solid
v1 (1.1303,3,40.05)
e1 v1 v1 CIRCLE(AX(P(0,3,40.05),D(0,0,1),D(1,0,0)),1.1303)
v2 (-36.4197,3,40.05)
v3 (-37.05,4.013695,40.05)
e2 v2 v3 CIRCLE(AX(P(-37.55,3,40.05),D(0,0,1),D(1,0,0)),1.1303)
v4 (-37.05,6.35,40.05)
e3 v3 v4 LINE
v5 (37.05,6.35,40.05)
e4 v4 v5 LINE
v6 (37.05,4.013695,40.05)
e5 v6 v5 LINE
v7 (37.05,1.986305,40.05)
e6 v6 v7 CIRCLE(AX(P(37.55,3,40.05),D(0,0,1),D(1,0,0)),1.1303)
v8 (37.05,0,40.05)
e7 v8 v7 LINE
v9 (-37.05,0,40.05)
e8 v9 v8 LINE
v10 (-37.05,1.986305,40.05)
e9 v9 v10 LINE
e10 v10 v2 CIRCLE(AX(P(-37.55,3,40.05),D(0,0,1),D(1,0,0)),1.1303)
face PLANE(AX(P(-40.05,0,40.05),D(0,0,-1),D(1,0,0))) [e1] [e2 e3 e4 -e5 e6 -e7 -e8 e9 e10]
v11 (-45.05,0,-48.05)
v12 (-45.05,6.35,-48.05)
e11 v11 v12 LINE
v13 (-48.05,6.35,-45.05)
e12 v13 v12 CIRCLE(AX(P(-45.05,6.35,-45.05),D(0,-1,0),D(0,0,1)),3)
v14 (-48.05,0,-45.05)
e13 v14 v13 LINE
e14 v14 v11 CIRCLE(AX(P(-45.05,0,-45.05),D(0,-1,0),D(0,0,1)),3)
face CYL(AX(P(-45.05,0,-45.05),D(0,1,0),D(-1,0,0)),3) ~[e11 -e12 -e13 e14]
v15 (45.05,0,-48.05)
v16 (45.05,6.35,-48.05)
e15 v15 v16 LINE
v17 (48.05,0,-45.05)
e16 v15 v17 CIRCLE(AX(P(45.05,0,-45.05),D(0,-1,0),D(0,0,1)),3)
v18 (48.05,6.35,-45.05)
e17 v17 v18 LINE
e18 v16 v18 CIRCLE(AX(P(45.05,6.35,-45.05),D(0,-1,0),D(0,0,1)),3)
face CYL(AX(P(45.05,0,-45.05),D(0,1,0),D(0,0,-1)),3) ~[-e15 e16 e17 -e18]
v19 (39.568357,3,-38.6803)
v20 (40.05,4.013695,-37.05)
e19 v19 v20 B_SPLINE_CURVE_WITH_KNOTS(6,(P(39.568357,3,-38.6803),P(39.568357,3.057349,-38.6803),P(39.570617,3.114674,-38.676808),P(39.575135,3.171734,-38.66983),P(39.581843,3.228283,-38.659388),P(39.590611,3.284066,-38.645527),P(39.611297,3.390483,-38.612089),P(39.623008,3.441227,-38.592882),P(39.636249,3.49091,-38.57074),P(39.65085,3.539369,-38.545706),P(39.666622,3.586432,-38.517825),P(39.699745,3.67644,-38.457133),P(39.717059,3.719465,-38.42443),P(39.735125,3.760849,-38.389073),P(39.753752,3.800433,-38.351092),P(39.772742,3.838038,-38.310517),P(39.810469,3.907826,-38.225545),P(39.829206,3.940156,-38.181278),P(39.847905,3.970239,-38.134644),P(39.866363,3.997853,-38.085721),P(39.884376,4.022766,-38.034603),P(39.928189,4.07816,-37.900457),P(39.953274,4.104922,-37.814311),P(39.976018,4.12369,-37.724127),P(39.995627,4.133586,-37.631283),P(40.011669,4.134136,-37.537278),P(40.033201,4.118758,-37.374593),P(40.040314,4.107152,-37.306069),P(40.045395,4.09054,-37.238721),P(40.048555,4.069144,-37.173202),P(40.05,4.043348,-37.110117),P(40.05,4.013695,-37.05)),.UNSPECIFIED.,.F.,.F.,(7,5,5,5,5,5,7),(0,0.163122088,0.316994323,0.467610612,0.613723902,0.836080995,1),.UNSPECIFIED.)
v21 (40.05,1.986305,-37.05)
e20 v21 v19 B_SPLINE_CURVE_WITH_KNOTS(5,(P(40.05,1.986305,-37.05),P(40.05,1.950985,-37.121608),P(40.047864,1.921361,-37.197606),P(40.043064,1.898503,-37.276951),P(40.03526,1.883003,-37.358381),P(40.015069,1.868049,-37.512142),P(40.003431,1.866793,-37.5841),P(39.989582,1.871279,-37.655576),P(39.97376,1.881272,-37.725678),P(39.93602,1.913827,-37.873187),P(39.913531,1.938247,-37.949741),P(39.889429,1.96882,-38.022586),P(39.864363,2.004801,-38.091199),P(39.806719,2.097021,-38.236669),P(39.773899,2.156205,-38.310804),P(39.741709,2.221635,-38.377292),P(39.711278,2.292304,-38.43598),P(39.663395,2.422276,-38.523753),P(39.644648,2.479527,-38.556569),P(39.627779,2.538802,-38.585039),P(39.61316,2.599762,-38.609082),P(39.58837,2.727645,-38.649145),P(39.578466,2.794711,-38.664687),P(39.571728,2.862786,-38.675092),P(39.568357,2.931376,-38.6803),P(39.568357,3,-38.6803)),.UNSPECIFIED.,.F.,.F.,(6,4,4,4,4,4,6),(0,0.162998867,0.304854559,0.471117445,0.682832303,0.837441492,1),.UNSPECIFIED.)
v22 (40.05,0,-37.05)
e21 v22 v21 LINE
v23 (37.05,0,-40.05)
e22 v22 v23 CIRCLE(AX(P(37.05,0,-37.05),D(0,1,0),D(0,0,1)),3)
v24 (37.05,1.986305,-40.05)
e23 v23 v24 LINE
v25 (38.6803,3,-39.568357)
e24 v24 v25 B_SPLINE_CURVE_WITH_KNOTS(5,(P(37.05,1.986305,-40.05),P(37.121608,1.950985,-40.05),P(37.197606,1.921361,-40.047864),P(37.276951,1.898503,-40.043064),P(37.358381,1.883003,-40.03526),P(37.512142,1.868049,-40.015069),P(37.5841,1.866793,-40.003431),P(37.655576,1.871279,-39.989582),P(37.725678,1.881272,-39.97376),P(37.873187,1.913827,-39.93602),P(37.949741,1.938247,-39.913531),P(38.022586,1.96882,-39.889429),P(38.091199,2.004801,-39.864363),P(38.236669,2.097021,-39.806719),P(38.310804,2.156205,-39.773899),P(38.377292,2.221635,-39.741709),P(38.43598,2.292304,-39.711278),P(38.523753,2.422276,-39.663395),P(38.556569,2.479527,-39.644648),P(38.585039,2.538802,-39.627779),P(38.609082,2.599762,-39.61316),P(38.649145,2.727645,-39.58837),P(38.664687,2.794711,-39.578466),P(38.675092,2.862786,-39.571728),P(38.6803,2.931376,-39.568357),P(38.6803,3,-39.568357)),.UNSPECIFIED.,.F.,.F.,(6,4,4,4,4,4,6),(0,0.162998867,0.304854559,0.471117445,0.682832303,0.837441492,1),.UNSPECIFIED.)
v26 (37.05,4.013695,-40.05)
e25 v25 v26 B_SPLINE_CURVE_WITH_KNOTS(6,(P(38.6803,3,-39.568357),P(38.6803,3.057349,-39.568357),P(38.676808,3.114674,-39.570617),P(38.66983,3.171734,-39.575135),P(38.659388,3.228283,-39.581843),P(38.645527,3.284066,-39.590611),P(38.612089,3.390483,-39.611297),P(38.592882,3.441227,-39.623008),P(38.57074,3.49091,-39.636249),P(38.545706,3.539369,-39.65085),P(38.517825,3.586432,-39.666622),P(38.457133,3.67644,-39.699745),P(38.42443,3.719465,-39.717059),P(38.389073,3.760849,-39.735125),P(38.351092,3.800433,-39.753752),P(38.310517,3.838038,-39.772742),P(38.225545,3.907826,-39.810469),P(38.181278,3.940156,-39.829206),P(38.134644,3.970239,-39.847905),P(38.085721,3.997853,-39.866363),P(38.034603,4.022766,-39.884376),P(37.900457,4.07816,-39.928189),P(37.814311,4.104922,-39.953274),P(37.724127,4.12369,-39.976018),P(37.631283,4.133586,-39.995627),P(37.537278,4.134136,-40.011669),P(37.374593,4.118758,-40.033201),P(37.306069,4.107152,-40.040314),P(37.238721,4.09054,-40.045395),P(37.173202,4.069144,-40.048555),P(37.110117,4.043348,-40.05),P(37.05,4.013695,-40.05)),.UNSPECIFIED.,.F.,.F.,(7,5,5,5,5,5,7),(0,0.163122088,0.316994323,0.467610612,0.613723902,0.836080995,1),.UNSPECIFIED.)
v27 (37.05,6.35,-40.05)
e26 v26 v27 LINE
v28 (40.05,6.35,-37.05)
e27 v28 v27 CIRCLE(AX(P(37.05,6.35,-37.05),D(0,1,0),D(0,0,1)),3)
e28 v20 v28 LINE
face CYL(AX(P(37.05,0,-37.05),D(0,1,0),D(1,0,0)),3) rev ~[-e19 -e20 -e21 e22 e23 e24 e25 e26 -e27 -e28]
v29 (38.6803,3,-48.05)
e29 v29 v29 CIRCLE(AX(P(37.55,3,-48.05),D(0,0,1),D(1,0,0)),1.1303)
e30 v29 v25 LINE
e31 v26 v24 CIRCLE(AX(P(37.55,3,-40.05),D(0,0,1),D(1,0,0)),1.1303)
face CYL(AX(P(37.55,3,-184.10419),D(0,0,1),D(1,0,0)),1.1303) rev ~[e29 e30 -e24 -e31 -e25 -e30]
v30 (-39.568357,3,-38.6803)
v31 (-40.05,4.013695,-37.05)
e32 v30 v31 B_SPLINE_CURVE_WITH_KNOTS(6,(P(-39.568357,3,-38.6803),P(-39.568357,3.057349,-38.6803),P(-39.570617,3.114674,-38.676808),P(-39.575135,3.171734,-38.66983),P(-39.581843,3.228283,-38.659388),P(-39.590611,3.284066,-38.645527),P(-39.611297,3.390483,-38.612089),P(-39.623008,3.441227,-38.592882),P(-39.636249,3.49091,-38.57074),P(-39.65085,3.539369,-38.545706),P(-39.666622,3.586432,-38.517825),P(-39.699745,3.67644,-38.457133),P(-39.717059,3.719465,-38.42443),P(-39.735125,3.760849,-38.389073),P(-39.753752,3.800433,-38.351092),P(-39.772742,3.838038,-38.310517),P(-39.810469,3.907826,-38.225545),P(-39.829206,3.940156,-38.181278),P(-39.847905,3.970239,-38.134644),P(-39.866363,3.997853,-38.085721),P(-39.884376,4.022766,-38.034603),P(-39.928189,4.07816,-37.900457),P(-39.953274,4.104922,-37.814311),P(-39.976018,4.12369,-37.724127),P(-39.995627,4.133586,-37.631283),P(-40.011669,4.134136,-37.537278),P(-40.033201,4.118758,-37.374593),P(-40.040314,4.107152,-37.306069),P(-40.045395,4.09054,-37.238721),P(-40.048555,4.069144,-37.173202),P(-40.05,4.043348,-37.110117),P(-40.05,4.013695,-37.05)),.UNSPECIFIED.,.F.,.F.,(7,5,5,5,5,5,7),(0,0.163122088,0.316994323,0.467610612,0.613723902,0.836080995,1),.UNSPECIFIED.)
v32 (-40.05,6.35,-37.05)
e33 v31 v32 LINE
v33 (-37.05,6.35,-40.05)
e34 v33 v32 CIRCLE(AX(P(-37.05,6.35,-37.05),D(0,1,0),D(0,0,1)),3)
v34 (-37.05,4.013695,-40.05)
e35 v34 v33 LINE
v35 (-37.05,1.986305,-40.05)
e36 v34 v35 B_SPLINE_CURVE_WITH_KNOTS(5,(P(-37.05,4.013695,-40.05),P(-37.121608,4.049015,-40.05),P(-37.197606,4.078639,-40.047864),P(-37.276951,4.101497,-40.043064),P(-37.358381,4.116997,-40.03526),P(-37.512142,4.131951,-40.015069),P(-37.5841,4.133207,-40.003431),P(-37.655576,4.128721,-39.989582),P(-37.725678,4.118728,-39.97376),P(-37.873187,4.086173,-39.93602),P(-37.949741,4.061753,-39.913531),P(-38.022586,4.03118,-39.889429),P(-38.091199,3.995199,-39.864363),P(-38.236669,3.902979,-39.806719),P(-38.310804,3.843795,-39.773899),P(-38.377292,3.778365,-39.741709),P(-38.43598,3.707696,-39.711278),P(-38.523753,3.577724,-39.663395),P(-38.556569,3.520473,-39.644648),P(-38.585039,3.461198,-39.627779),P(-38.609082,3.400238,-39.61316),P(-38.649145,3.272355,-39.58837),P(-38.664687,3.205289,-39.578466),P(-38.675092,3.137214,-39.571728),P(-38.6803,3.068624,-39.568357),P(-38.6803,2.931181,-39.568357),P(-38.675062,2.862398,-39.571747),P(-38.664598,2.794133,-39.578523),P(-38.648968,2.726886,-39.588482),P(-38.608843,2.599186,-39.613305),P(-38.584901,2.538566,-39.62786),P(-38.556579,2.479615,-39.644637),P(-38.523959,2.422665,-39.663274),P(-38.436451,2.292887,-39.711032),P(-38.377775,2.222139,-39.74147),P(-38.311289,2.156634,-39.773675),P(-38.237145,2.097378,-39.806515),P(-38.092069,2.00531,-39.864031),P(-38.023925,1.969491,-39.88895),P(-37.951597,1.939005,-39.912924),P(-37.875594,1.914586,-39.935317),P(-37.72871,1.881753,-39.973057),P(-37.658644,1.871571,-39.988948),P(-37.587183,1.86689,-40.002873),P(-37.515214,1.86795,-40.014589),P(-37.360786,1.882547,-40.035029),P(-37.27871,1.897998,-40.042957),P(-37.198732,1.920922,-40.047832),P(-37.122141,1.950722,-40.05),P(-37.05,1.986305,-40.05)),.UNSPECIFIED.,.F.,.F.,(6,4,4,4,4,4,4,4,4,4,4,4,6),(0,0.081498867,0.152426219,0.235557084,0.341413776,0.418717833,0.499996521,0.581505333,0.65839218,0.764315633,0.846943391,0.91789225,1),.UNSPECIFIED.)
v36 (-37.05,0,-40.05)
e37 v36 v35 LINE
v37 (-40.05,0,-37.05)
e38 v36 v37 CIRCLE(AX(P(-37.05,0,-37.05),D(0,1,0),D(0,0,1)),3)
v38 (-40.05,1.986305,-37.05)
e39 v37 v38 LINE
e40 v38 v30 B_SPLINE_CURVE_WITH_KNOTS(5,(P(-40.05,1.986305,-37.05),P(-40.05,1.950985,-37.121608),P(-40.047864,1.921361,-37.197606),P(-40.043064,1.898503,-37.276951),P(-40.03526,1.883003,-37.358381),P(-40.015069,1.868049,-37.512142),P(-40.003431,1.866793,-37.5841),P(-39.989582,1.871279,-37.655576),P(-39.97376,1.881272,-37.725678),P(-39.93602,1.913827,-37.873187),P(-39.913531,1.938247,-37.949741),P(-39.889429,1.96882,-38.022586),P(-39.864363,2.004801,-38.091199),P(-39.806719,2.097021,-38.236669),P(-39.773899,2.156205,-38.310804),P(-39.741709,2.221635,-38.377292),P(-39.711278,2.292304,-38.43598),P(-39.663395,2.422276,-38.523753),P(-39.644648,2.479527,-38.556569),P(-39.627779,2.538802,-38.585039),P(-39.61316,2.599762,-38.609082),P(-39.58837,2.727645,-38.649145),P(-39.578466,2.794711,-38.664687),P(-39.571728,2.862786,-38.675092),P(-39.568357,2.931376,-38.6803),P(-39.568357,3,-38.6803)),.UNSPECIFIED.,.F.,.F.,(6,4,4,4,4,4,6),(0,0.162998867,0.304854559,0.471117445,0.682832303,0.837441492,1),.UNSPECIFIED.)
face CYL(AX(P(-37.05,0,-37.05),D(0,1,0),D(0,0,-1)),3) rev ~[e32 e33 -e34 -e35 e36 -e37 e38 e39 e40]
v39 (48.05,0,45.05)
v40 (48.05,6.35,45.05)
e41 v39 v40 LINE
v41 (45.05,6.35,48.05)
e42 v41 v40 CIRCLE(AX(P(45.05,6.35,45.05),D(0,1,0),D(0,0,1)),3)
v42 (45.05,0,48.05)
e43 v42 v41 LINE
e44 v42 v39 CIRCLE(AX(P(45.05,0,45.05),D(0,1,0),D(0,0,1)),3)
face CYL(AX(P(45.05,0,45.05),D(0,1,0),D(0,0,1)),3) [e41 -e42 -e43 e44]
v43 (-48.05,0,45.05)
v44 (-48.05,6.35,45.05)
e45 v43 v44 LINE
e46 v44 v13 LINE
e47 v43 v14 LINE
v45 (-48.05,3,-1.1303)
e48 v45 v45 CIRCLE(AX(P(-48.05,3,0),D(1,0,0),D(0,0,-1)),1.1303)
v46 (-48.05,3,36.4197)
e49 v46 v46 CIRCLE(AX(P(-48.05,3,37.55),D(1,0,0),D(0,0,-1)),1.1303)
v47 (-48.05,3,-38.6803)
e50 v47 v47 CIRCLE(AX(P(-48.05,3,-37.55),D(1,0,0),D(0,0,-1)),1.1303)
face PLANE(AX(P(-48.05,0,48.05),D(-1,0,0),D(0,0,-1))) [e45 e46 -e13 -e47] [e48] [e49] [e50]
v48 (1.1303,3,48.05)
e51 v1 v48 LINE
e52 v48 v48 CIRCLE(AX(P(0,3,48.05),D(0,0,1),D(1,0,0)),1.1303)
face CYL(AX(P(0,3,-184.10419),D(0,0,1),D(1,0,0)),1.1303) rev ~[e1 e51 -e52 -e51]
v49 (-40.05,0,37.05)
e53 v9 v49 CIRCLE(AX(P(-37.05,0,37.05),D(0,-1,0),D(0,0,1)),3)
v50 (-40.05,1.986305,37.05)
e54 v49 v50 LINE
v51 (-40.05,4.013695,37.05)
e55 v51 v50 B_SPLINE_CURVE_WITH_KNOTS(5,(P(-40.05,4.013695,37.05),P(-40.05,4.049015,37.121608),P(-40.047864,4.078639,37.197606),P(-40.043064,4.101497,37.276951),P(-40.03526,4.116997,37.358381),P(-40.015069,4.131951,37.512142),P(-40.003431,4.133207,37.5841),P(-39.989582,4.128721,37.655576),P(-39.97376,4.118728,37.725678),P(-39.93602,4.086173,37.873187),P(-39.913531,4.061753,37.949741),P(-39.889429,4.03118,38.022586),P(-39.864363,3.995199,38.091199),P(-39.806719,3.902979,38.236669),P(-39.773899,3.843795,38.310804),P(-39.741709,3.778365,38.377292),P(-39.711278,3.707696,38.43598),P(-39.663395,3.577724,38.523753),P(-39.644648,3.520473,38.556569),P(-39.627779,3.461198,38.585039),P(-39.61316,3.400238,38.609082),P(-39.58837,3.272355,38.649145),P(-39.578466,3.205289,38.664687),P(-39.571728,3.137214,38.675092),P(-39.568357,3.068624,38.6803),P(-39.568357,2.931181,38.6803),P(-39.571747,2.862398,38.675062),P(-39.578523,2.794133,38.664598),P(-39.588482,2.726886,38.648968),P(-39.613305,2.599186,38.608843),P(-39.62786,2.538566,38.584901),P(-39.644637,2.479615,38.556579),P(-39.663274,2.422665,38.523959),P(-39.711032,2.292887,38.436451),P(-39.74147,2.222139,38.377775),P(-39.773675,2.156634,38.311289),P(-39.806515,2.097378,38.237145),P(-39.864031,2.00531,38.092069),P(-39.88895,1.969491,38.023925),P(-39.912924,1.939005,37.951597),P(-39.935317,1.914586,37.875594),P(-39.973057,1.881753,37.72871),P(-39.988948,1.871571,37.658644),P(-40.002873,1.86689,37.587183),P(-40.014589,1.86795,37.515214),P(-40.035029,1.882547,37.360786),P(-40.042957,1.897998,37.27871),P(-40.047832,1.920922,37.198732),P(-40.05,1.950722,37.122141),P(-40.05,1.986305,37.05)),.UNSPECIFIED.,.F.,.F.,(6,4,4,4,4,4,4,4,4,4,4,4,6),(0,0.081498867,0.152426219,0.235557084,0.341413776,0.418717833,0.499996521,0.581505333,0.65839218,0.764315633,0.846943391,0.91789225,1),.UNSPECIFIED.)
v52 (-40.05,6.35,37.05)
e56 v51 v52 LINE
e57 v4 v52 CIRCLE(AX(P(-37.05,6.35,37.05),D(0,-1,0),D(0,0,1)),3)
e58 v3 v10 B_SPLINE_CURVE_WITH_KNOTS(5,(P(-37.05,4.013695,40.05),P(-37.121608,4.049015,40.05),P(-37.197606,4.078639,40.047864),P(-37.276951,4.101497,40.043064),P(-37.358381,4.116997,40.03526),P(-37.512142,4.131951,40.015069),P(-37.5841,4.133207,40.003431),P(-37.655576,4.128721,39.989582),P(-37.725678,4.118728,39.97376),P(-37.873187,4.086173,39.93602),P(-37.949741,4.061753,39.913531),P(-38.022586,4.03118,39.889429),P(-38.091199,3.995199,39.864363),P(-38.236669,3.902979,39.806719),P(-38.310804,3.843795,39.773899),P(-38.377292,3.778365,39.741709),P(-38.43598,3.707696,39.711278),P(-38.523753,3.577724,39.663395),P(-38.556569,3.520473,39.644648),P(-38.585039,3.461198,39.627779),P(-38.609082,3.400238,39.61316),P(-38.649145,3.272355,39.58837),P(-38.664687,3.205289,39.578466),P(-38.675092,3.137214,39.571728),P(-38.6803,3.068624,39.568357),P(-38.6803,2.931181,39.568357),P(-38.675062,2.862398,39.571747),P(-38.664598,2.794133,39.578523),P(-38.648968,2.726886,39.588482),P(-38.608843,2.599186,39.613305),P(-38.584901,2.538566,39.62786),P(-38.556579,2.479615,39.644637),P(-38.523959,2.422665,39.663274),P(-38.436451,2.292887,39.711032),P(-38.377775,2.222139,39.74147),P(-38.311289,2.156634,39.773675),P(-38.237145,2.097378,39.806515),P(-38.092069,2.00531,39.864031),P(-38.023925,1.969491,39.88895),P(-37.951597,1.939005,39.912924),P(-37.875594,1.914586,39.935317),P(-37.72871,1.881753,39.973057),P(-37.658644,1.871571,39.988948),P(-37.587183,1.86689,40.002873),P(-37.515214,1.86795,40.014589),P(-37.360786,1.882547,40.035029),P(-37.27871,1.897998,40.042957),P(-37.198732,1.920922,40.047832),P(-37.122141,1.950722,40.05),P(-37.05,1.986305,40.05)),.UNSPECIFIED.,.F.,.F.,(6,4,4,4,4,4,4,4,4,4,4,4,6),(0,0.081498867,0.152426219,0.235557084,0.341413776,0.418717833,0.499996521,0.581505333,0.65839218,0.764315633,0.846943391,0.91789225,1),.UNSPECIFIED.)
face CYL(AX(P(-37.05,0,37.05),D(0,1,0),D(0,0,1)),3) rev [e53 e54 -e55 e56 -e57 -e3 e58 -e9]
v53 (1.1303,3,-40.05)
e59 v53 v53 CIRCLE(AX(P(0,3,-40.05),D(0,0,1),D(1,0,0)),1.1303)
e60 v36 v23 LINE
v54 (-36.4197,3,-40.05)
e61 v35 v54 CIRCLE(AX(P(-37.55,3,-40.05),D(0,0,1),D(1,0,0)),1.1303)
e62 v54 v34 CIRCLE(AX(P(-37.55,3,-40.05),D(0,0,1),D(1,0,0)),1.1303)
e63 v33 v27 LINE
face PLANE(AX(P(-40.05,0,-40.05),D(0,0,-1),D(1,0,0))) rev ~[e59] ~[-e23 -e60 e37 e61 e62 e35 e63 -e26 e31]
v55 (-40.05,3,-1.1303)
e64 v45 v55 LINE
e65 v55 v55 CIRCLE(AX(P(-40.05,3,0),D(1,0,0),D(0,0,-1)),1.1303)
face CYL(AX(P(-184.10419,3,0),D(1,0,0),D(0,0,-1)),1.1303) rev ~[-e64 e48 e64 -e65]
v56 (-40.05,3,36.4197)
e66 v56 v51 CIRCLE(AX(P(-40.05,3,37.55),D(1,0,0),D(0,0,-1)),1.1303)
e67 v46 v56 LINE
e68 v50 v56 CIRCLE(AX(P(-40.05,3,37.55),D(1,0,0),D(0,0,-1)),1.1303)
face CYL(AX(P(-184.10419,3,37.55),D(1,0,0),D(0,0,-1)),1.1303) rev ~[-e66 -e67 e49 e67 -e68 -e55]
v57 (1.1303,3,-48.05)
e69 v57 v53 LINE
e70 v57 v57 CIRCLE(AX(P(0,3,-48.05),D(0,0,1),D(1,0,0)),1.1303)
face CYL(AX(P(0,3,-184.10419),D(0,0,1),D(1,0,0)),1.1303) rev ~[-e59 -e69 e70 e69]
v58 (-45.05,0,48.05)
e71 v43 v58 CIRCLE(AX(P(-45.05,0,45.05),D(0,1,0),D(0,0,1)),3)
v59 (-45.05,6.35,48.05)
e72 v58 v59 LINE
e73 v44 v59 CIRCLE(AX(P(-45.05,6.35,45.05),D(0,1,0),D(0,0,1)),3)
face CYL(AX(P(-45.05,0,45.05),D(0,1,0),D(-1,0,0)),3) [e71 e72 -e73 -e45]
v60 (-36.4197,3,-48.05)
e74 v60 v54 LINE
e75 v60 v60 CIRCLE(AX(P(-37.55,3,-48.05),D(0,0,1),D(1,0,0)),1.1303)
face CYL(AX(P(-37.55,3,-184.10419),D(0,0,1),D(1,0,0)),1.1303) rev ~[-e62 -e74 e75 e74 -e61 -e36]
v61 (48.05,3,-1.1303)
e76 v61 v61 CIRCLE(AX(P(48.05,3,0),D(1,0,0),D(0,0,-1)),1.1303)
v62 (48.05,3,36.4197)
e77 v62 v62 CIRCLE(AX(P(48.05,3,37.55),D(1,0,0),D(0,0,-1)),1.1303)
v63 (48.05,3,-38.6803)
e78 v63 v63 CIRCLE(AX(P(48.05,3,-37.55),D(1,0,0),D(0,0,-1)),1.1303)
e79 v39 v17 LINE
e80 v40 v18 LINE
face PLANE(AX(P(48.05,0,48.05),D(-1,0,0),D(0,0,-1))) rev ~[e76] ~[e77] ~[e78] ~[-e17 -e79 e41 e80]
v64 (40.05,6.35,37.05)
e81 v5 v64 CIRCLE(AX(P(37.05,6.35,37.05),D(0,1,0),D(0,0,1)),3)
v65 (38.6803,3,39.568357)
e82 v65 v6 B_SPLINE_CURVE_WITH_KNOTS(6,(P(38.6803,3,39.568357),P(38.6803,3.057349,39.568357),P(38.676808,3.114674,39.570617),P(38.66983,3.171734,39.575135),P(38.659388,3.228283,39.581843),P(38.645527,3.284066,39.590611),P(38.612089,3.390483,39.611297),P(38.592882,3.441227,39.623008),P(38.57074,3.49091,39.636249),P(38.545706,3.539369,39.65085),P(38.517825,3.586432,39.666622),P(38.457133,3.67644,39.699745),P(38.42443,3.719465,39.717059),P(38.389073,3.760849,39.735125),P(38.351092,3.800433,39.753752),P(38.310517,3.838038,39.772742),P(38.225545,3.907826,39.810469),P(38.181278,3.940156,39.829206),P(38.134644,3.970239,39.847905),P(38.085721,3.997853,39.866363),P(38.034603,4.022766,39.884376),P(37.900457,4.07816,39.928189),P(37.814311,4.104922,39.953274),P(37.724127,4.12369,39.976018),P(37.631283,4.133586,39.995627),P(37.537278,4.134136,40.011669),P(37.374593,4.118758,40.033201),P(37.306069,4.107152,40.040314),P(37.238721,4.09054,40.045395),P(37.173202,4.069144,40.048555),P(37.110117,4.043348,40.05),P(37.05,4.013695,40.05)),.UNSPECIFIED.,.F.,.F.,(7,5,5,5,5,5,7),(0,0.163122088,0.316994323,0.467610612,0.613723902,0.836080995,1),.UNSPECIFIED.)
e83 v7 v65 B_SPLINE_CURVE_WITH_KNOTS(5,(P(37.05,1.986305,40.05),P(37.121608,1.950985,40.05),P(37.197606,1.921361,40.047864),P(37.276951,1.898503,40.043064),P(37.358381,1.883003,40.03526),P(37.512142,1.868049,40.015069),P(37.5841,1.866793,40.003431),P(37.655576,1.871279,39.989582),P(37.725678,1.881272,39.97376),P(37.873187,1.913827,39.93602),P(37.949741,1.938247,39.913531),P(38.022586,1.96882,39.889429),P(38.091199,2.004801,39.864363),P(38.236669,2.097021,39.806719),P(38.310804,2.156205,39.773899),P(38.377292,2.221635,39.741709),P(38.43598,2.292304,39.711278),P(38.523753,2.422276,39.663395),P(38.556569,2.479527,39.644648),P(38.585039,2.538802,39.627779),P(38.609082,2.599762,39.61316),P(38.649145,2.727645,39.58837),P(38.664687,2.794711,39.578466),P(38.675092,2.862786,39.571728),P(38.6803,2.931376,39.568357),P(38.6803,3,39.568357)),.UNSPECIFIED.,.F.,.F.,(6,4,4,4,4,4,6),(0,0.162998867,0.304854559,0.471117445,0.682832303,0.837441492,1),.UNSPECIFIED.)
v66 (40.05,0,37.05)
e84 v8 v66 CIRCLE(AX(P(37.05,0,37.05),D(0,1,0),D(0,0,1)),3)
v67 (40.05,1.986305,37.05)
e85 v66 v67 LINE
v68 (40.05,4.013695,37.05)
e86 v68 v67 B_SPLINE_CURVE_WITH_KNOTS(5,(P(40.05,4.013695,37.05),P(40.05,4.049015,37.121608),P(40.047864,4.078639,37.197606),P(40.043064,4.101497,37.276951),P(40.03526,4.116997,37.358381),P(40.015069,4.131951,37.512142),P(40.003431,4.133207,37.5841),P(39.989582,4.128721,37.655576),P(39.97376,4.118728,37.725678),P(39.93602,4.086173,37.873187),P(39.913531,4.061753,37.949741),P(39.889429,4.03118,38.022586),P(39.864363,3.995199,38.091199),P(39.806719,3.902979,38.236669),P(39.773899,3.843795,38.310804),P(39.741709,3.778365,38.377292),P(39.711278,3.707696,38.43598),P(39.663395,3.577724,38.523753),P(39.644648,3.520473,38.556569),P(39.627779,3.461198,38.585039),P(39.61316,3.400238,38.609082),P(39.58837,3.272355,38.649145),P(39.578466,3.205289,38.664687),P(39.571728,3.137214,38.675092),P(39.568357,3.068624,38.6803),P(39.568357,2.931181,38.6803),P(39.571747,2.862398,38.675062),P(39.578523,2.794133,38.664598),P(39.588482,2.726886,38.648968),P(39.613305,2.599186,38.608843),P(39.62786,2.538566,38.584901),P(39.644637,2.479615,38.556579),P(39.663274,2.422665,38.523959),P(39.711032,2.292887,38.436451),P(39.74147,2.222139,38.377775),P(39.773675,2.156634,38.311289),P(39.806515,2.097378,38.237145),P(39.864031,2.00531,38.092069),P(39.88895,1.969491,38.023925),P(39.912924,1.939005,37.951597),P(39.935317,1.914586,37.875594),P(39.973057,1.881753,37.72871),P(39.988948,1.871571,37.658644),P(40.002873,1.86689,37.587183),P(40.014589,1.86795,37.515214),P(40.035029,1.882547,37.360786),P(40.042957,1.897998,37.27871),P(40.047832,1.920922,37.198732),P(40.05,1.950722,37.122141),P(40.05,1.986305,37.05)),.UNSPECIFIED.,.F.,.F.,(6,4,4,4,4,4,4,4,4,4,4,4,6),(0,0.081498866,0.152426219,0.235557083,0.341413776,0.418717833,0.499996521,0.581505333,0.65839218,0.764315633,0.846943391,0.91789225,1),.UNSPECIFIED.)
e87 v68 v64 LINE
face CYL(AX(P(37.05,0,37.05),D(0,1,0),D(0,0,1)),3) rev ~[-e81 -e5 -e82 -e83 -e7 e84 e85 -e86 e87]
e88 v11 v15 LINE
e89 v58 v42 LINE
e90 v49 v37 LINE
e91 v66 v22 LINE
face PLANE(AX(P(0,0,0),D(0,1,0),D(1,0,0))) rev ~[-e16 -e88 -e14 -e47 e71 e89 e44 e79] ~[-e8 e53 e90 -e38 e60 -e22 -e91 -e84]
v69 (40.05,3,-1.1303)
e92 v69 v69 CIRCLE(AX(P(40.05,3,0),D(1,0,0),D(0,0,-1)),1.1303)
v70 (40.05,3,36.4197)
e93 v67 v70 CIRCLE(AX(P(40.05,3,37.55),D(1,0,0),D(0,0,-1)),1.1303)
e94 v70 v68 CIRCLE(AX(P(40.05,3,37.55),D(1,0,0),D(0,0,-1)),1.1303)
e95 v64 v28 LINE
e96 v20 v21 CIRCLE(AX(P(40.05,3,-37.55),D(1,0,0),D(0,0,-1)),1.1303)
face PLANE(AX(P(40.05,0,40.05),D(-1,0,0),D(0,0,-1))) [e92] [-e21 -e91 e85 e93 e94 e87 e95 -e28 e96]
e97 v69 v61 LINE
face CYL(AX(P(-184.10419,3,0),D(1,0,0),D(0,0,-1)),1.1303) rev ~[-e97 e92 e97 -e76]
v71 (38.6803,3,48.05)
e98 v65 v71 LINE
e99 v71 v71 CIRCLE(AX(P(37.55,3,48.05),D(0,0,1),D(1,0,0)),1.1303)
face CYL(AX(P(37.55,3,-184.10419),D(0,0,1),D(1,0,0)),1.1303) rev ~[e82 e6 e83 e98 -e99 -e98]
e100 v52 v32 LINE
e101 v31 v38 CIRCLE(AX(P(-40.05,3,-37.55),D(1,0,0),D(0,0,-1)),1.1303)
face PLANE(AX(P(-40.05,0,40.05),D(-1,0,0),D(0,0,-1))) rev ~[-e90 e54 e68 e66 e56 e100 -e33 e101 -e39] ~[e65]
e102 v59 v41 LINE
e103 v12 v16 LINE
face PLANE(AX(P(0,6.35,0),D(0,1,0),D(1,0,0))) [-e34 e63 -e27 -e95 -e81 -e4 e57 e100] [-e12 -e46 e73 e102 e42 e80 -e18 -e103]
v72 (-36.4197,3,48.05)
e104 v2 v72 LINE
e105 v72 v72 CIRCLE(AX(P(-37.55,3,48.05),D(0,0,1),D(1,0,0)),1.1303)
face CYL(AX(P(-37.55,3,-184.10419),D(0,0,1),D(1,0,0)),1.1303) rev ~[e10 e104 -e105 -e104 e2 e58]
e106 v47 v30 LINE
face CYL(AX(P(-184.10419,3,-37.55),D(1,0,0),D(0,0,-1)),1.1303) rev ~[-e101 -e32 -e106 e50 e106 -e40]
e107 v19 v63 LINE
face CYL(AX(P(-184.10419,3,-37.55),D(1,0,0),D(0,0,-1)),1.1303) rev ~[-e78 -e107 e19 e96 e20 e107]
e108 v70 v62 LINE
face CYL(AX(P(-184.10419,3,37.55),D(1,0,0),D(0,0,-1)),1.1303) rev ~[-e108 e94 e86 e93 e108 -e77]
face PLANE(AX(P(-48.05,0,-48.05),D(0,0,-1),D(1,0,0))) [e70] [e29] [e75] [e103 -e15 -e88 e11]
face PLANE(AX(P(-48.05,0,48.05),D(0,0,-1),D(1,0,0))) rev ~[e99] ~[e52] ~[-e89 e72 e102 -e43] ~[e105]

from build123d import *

# Parameters (mm, degrees)
SKETCH1_W                   = 96.1
SKETCH1_H                   = 96.1
SKETCH1_W_2                 = 80.1
SKETCH1_H_2                 = 80.1
BOSS_EXTRUDE1_DEPTH         = 6.35
FILLET1_R                   = 3
F_43_0_089_DIAMETER_HOLE1_D = 2.2606
F_43_0_089_DIAMETER_HOLE2_D = 2.2606


with BuildPart() as part:
    # Sketch1 → Boss-Extrude1 (new body)
    with BuildSketch(Plane(origin=(0, 0, 0), x_dir=(1, 0, 0), z_dir=(0, 1, 0))):
        Rectangle(SKETCH1_W, SKETCH1_H)
        Rectangle(SKETCH1_W_2, SKETCH1_H_2, mode=Mode.SUBTRACT)
    extrude(amount=BOSS_EXTRUDE1_DEPTH)

    # Fillet1
    fillet1_edges = [part.edges().sort_by_distance(p)[0] for p in [
        (-40.05, 3.175, 40.05),
        (40.05, 3.175, 40.05),
        (40.05, 3.175, -40.05),
        (-40.05, 3.175, -40.05),
        (-48.05, 3.175, -48.05),
        (48.05, 3.175, -48.05),
        (48.05, 3.175, 48.05),
        (-48.05, 3.175, 48.05),
    ]]
    fillet(fillet1_edges, radius=FILLET1_R)

    # #43 (0.089) Diameter Hole1 (through all)
    with Locations(Plane(origin=(0, 0, -48.05), x_dir=(-1, 0, 0), z_dir=(0, 0, -1))):
        with Locations((0, 3), (-37.55, 3), (37.55, 3)):
            Hole(F_43_0_089_DIAMETER_HOLE1_D / 2)

    # #43 (0.089) Diameter Hole2 (through all)
    with Locations(Plane.ZY.offset(48.05)):
        with Locations((0, 3), (-37.55, 3), (37.55, 3)):
            Hole(F_43_0_089_DIAMETER_HOLE2_D / 2)


solid = part.part
